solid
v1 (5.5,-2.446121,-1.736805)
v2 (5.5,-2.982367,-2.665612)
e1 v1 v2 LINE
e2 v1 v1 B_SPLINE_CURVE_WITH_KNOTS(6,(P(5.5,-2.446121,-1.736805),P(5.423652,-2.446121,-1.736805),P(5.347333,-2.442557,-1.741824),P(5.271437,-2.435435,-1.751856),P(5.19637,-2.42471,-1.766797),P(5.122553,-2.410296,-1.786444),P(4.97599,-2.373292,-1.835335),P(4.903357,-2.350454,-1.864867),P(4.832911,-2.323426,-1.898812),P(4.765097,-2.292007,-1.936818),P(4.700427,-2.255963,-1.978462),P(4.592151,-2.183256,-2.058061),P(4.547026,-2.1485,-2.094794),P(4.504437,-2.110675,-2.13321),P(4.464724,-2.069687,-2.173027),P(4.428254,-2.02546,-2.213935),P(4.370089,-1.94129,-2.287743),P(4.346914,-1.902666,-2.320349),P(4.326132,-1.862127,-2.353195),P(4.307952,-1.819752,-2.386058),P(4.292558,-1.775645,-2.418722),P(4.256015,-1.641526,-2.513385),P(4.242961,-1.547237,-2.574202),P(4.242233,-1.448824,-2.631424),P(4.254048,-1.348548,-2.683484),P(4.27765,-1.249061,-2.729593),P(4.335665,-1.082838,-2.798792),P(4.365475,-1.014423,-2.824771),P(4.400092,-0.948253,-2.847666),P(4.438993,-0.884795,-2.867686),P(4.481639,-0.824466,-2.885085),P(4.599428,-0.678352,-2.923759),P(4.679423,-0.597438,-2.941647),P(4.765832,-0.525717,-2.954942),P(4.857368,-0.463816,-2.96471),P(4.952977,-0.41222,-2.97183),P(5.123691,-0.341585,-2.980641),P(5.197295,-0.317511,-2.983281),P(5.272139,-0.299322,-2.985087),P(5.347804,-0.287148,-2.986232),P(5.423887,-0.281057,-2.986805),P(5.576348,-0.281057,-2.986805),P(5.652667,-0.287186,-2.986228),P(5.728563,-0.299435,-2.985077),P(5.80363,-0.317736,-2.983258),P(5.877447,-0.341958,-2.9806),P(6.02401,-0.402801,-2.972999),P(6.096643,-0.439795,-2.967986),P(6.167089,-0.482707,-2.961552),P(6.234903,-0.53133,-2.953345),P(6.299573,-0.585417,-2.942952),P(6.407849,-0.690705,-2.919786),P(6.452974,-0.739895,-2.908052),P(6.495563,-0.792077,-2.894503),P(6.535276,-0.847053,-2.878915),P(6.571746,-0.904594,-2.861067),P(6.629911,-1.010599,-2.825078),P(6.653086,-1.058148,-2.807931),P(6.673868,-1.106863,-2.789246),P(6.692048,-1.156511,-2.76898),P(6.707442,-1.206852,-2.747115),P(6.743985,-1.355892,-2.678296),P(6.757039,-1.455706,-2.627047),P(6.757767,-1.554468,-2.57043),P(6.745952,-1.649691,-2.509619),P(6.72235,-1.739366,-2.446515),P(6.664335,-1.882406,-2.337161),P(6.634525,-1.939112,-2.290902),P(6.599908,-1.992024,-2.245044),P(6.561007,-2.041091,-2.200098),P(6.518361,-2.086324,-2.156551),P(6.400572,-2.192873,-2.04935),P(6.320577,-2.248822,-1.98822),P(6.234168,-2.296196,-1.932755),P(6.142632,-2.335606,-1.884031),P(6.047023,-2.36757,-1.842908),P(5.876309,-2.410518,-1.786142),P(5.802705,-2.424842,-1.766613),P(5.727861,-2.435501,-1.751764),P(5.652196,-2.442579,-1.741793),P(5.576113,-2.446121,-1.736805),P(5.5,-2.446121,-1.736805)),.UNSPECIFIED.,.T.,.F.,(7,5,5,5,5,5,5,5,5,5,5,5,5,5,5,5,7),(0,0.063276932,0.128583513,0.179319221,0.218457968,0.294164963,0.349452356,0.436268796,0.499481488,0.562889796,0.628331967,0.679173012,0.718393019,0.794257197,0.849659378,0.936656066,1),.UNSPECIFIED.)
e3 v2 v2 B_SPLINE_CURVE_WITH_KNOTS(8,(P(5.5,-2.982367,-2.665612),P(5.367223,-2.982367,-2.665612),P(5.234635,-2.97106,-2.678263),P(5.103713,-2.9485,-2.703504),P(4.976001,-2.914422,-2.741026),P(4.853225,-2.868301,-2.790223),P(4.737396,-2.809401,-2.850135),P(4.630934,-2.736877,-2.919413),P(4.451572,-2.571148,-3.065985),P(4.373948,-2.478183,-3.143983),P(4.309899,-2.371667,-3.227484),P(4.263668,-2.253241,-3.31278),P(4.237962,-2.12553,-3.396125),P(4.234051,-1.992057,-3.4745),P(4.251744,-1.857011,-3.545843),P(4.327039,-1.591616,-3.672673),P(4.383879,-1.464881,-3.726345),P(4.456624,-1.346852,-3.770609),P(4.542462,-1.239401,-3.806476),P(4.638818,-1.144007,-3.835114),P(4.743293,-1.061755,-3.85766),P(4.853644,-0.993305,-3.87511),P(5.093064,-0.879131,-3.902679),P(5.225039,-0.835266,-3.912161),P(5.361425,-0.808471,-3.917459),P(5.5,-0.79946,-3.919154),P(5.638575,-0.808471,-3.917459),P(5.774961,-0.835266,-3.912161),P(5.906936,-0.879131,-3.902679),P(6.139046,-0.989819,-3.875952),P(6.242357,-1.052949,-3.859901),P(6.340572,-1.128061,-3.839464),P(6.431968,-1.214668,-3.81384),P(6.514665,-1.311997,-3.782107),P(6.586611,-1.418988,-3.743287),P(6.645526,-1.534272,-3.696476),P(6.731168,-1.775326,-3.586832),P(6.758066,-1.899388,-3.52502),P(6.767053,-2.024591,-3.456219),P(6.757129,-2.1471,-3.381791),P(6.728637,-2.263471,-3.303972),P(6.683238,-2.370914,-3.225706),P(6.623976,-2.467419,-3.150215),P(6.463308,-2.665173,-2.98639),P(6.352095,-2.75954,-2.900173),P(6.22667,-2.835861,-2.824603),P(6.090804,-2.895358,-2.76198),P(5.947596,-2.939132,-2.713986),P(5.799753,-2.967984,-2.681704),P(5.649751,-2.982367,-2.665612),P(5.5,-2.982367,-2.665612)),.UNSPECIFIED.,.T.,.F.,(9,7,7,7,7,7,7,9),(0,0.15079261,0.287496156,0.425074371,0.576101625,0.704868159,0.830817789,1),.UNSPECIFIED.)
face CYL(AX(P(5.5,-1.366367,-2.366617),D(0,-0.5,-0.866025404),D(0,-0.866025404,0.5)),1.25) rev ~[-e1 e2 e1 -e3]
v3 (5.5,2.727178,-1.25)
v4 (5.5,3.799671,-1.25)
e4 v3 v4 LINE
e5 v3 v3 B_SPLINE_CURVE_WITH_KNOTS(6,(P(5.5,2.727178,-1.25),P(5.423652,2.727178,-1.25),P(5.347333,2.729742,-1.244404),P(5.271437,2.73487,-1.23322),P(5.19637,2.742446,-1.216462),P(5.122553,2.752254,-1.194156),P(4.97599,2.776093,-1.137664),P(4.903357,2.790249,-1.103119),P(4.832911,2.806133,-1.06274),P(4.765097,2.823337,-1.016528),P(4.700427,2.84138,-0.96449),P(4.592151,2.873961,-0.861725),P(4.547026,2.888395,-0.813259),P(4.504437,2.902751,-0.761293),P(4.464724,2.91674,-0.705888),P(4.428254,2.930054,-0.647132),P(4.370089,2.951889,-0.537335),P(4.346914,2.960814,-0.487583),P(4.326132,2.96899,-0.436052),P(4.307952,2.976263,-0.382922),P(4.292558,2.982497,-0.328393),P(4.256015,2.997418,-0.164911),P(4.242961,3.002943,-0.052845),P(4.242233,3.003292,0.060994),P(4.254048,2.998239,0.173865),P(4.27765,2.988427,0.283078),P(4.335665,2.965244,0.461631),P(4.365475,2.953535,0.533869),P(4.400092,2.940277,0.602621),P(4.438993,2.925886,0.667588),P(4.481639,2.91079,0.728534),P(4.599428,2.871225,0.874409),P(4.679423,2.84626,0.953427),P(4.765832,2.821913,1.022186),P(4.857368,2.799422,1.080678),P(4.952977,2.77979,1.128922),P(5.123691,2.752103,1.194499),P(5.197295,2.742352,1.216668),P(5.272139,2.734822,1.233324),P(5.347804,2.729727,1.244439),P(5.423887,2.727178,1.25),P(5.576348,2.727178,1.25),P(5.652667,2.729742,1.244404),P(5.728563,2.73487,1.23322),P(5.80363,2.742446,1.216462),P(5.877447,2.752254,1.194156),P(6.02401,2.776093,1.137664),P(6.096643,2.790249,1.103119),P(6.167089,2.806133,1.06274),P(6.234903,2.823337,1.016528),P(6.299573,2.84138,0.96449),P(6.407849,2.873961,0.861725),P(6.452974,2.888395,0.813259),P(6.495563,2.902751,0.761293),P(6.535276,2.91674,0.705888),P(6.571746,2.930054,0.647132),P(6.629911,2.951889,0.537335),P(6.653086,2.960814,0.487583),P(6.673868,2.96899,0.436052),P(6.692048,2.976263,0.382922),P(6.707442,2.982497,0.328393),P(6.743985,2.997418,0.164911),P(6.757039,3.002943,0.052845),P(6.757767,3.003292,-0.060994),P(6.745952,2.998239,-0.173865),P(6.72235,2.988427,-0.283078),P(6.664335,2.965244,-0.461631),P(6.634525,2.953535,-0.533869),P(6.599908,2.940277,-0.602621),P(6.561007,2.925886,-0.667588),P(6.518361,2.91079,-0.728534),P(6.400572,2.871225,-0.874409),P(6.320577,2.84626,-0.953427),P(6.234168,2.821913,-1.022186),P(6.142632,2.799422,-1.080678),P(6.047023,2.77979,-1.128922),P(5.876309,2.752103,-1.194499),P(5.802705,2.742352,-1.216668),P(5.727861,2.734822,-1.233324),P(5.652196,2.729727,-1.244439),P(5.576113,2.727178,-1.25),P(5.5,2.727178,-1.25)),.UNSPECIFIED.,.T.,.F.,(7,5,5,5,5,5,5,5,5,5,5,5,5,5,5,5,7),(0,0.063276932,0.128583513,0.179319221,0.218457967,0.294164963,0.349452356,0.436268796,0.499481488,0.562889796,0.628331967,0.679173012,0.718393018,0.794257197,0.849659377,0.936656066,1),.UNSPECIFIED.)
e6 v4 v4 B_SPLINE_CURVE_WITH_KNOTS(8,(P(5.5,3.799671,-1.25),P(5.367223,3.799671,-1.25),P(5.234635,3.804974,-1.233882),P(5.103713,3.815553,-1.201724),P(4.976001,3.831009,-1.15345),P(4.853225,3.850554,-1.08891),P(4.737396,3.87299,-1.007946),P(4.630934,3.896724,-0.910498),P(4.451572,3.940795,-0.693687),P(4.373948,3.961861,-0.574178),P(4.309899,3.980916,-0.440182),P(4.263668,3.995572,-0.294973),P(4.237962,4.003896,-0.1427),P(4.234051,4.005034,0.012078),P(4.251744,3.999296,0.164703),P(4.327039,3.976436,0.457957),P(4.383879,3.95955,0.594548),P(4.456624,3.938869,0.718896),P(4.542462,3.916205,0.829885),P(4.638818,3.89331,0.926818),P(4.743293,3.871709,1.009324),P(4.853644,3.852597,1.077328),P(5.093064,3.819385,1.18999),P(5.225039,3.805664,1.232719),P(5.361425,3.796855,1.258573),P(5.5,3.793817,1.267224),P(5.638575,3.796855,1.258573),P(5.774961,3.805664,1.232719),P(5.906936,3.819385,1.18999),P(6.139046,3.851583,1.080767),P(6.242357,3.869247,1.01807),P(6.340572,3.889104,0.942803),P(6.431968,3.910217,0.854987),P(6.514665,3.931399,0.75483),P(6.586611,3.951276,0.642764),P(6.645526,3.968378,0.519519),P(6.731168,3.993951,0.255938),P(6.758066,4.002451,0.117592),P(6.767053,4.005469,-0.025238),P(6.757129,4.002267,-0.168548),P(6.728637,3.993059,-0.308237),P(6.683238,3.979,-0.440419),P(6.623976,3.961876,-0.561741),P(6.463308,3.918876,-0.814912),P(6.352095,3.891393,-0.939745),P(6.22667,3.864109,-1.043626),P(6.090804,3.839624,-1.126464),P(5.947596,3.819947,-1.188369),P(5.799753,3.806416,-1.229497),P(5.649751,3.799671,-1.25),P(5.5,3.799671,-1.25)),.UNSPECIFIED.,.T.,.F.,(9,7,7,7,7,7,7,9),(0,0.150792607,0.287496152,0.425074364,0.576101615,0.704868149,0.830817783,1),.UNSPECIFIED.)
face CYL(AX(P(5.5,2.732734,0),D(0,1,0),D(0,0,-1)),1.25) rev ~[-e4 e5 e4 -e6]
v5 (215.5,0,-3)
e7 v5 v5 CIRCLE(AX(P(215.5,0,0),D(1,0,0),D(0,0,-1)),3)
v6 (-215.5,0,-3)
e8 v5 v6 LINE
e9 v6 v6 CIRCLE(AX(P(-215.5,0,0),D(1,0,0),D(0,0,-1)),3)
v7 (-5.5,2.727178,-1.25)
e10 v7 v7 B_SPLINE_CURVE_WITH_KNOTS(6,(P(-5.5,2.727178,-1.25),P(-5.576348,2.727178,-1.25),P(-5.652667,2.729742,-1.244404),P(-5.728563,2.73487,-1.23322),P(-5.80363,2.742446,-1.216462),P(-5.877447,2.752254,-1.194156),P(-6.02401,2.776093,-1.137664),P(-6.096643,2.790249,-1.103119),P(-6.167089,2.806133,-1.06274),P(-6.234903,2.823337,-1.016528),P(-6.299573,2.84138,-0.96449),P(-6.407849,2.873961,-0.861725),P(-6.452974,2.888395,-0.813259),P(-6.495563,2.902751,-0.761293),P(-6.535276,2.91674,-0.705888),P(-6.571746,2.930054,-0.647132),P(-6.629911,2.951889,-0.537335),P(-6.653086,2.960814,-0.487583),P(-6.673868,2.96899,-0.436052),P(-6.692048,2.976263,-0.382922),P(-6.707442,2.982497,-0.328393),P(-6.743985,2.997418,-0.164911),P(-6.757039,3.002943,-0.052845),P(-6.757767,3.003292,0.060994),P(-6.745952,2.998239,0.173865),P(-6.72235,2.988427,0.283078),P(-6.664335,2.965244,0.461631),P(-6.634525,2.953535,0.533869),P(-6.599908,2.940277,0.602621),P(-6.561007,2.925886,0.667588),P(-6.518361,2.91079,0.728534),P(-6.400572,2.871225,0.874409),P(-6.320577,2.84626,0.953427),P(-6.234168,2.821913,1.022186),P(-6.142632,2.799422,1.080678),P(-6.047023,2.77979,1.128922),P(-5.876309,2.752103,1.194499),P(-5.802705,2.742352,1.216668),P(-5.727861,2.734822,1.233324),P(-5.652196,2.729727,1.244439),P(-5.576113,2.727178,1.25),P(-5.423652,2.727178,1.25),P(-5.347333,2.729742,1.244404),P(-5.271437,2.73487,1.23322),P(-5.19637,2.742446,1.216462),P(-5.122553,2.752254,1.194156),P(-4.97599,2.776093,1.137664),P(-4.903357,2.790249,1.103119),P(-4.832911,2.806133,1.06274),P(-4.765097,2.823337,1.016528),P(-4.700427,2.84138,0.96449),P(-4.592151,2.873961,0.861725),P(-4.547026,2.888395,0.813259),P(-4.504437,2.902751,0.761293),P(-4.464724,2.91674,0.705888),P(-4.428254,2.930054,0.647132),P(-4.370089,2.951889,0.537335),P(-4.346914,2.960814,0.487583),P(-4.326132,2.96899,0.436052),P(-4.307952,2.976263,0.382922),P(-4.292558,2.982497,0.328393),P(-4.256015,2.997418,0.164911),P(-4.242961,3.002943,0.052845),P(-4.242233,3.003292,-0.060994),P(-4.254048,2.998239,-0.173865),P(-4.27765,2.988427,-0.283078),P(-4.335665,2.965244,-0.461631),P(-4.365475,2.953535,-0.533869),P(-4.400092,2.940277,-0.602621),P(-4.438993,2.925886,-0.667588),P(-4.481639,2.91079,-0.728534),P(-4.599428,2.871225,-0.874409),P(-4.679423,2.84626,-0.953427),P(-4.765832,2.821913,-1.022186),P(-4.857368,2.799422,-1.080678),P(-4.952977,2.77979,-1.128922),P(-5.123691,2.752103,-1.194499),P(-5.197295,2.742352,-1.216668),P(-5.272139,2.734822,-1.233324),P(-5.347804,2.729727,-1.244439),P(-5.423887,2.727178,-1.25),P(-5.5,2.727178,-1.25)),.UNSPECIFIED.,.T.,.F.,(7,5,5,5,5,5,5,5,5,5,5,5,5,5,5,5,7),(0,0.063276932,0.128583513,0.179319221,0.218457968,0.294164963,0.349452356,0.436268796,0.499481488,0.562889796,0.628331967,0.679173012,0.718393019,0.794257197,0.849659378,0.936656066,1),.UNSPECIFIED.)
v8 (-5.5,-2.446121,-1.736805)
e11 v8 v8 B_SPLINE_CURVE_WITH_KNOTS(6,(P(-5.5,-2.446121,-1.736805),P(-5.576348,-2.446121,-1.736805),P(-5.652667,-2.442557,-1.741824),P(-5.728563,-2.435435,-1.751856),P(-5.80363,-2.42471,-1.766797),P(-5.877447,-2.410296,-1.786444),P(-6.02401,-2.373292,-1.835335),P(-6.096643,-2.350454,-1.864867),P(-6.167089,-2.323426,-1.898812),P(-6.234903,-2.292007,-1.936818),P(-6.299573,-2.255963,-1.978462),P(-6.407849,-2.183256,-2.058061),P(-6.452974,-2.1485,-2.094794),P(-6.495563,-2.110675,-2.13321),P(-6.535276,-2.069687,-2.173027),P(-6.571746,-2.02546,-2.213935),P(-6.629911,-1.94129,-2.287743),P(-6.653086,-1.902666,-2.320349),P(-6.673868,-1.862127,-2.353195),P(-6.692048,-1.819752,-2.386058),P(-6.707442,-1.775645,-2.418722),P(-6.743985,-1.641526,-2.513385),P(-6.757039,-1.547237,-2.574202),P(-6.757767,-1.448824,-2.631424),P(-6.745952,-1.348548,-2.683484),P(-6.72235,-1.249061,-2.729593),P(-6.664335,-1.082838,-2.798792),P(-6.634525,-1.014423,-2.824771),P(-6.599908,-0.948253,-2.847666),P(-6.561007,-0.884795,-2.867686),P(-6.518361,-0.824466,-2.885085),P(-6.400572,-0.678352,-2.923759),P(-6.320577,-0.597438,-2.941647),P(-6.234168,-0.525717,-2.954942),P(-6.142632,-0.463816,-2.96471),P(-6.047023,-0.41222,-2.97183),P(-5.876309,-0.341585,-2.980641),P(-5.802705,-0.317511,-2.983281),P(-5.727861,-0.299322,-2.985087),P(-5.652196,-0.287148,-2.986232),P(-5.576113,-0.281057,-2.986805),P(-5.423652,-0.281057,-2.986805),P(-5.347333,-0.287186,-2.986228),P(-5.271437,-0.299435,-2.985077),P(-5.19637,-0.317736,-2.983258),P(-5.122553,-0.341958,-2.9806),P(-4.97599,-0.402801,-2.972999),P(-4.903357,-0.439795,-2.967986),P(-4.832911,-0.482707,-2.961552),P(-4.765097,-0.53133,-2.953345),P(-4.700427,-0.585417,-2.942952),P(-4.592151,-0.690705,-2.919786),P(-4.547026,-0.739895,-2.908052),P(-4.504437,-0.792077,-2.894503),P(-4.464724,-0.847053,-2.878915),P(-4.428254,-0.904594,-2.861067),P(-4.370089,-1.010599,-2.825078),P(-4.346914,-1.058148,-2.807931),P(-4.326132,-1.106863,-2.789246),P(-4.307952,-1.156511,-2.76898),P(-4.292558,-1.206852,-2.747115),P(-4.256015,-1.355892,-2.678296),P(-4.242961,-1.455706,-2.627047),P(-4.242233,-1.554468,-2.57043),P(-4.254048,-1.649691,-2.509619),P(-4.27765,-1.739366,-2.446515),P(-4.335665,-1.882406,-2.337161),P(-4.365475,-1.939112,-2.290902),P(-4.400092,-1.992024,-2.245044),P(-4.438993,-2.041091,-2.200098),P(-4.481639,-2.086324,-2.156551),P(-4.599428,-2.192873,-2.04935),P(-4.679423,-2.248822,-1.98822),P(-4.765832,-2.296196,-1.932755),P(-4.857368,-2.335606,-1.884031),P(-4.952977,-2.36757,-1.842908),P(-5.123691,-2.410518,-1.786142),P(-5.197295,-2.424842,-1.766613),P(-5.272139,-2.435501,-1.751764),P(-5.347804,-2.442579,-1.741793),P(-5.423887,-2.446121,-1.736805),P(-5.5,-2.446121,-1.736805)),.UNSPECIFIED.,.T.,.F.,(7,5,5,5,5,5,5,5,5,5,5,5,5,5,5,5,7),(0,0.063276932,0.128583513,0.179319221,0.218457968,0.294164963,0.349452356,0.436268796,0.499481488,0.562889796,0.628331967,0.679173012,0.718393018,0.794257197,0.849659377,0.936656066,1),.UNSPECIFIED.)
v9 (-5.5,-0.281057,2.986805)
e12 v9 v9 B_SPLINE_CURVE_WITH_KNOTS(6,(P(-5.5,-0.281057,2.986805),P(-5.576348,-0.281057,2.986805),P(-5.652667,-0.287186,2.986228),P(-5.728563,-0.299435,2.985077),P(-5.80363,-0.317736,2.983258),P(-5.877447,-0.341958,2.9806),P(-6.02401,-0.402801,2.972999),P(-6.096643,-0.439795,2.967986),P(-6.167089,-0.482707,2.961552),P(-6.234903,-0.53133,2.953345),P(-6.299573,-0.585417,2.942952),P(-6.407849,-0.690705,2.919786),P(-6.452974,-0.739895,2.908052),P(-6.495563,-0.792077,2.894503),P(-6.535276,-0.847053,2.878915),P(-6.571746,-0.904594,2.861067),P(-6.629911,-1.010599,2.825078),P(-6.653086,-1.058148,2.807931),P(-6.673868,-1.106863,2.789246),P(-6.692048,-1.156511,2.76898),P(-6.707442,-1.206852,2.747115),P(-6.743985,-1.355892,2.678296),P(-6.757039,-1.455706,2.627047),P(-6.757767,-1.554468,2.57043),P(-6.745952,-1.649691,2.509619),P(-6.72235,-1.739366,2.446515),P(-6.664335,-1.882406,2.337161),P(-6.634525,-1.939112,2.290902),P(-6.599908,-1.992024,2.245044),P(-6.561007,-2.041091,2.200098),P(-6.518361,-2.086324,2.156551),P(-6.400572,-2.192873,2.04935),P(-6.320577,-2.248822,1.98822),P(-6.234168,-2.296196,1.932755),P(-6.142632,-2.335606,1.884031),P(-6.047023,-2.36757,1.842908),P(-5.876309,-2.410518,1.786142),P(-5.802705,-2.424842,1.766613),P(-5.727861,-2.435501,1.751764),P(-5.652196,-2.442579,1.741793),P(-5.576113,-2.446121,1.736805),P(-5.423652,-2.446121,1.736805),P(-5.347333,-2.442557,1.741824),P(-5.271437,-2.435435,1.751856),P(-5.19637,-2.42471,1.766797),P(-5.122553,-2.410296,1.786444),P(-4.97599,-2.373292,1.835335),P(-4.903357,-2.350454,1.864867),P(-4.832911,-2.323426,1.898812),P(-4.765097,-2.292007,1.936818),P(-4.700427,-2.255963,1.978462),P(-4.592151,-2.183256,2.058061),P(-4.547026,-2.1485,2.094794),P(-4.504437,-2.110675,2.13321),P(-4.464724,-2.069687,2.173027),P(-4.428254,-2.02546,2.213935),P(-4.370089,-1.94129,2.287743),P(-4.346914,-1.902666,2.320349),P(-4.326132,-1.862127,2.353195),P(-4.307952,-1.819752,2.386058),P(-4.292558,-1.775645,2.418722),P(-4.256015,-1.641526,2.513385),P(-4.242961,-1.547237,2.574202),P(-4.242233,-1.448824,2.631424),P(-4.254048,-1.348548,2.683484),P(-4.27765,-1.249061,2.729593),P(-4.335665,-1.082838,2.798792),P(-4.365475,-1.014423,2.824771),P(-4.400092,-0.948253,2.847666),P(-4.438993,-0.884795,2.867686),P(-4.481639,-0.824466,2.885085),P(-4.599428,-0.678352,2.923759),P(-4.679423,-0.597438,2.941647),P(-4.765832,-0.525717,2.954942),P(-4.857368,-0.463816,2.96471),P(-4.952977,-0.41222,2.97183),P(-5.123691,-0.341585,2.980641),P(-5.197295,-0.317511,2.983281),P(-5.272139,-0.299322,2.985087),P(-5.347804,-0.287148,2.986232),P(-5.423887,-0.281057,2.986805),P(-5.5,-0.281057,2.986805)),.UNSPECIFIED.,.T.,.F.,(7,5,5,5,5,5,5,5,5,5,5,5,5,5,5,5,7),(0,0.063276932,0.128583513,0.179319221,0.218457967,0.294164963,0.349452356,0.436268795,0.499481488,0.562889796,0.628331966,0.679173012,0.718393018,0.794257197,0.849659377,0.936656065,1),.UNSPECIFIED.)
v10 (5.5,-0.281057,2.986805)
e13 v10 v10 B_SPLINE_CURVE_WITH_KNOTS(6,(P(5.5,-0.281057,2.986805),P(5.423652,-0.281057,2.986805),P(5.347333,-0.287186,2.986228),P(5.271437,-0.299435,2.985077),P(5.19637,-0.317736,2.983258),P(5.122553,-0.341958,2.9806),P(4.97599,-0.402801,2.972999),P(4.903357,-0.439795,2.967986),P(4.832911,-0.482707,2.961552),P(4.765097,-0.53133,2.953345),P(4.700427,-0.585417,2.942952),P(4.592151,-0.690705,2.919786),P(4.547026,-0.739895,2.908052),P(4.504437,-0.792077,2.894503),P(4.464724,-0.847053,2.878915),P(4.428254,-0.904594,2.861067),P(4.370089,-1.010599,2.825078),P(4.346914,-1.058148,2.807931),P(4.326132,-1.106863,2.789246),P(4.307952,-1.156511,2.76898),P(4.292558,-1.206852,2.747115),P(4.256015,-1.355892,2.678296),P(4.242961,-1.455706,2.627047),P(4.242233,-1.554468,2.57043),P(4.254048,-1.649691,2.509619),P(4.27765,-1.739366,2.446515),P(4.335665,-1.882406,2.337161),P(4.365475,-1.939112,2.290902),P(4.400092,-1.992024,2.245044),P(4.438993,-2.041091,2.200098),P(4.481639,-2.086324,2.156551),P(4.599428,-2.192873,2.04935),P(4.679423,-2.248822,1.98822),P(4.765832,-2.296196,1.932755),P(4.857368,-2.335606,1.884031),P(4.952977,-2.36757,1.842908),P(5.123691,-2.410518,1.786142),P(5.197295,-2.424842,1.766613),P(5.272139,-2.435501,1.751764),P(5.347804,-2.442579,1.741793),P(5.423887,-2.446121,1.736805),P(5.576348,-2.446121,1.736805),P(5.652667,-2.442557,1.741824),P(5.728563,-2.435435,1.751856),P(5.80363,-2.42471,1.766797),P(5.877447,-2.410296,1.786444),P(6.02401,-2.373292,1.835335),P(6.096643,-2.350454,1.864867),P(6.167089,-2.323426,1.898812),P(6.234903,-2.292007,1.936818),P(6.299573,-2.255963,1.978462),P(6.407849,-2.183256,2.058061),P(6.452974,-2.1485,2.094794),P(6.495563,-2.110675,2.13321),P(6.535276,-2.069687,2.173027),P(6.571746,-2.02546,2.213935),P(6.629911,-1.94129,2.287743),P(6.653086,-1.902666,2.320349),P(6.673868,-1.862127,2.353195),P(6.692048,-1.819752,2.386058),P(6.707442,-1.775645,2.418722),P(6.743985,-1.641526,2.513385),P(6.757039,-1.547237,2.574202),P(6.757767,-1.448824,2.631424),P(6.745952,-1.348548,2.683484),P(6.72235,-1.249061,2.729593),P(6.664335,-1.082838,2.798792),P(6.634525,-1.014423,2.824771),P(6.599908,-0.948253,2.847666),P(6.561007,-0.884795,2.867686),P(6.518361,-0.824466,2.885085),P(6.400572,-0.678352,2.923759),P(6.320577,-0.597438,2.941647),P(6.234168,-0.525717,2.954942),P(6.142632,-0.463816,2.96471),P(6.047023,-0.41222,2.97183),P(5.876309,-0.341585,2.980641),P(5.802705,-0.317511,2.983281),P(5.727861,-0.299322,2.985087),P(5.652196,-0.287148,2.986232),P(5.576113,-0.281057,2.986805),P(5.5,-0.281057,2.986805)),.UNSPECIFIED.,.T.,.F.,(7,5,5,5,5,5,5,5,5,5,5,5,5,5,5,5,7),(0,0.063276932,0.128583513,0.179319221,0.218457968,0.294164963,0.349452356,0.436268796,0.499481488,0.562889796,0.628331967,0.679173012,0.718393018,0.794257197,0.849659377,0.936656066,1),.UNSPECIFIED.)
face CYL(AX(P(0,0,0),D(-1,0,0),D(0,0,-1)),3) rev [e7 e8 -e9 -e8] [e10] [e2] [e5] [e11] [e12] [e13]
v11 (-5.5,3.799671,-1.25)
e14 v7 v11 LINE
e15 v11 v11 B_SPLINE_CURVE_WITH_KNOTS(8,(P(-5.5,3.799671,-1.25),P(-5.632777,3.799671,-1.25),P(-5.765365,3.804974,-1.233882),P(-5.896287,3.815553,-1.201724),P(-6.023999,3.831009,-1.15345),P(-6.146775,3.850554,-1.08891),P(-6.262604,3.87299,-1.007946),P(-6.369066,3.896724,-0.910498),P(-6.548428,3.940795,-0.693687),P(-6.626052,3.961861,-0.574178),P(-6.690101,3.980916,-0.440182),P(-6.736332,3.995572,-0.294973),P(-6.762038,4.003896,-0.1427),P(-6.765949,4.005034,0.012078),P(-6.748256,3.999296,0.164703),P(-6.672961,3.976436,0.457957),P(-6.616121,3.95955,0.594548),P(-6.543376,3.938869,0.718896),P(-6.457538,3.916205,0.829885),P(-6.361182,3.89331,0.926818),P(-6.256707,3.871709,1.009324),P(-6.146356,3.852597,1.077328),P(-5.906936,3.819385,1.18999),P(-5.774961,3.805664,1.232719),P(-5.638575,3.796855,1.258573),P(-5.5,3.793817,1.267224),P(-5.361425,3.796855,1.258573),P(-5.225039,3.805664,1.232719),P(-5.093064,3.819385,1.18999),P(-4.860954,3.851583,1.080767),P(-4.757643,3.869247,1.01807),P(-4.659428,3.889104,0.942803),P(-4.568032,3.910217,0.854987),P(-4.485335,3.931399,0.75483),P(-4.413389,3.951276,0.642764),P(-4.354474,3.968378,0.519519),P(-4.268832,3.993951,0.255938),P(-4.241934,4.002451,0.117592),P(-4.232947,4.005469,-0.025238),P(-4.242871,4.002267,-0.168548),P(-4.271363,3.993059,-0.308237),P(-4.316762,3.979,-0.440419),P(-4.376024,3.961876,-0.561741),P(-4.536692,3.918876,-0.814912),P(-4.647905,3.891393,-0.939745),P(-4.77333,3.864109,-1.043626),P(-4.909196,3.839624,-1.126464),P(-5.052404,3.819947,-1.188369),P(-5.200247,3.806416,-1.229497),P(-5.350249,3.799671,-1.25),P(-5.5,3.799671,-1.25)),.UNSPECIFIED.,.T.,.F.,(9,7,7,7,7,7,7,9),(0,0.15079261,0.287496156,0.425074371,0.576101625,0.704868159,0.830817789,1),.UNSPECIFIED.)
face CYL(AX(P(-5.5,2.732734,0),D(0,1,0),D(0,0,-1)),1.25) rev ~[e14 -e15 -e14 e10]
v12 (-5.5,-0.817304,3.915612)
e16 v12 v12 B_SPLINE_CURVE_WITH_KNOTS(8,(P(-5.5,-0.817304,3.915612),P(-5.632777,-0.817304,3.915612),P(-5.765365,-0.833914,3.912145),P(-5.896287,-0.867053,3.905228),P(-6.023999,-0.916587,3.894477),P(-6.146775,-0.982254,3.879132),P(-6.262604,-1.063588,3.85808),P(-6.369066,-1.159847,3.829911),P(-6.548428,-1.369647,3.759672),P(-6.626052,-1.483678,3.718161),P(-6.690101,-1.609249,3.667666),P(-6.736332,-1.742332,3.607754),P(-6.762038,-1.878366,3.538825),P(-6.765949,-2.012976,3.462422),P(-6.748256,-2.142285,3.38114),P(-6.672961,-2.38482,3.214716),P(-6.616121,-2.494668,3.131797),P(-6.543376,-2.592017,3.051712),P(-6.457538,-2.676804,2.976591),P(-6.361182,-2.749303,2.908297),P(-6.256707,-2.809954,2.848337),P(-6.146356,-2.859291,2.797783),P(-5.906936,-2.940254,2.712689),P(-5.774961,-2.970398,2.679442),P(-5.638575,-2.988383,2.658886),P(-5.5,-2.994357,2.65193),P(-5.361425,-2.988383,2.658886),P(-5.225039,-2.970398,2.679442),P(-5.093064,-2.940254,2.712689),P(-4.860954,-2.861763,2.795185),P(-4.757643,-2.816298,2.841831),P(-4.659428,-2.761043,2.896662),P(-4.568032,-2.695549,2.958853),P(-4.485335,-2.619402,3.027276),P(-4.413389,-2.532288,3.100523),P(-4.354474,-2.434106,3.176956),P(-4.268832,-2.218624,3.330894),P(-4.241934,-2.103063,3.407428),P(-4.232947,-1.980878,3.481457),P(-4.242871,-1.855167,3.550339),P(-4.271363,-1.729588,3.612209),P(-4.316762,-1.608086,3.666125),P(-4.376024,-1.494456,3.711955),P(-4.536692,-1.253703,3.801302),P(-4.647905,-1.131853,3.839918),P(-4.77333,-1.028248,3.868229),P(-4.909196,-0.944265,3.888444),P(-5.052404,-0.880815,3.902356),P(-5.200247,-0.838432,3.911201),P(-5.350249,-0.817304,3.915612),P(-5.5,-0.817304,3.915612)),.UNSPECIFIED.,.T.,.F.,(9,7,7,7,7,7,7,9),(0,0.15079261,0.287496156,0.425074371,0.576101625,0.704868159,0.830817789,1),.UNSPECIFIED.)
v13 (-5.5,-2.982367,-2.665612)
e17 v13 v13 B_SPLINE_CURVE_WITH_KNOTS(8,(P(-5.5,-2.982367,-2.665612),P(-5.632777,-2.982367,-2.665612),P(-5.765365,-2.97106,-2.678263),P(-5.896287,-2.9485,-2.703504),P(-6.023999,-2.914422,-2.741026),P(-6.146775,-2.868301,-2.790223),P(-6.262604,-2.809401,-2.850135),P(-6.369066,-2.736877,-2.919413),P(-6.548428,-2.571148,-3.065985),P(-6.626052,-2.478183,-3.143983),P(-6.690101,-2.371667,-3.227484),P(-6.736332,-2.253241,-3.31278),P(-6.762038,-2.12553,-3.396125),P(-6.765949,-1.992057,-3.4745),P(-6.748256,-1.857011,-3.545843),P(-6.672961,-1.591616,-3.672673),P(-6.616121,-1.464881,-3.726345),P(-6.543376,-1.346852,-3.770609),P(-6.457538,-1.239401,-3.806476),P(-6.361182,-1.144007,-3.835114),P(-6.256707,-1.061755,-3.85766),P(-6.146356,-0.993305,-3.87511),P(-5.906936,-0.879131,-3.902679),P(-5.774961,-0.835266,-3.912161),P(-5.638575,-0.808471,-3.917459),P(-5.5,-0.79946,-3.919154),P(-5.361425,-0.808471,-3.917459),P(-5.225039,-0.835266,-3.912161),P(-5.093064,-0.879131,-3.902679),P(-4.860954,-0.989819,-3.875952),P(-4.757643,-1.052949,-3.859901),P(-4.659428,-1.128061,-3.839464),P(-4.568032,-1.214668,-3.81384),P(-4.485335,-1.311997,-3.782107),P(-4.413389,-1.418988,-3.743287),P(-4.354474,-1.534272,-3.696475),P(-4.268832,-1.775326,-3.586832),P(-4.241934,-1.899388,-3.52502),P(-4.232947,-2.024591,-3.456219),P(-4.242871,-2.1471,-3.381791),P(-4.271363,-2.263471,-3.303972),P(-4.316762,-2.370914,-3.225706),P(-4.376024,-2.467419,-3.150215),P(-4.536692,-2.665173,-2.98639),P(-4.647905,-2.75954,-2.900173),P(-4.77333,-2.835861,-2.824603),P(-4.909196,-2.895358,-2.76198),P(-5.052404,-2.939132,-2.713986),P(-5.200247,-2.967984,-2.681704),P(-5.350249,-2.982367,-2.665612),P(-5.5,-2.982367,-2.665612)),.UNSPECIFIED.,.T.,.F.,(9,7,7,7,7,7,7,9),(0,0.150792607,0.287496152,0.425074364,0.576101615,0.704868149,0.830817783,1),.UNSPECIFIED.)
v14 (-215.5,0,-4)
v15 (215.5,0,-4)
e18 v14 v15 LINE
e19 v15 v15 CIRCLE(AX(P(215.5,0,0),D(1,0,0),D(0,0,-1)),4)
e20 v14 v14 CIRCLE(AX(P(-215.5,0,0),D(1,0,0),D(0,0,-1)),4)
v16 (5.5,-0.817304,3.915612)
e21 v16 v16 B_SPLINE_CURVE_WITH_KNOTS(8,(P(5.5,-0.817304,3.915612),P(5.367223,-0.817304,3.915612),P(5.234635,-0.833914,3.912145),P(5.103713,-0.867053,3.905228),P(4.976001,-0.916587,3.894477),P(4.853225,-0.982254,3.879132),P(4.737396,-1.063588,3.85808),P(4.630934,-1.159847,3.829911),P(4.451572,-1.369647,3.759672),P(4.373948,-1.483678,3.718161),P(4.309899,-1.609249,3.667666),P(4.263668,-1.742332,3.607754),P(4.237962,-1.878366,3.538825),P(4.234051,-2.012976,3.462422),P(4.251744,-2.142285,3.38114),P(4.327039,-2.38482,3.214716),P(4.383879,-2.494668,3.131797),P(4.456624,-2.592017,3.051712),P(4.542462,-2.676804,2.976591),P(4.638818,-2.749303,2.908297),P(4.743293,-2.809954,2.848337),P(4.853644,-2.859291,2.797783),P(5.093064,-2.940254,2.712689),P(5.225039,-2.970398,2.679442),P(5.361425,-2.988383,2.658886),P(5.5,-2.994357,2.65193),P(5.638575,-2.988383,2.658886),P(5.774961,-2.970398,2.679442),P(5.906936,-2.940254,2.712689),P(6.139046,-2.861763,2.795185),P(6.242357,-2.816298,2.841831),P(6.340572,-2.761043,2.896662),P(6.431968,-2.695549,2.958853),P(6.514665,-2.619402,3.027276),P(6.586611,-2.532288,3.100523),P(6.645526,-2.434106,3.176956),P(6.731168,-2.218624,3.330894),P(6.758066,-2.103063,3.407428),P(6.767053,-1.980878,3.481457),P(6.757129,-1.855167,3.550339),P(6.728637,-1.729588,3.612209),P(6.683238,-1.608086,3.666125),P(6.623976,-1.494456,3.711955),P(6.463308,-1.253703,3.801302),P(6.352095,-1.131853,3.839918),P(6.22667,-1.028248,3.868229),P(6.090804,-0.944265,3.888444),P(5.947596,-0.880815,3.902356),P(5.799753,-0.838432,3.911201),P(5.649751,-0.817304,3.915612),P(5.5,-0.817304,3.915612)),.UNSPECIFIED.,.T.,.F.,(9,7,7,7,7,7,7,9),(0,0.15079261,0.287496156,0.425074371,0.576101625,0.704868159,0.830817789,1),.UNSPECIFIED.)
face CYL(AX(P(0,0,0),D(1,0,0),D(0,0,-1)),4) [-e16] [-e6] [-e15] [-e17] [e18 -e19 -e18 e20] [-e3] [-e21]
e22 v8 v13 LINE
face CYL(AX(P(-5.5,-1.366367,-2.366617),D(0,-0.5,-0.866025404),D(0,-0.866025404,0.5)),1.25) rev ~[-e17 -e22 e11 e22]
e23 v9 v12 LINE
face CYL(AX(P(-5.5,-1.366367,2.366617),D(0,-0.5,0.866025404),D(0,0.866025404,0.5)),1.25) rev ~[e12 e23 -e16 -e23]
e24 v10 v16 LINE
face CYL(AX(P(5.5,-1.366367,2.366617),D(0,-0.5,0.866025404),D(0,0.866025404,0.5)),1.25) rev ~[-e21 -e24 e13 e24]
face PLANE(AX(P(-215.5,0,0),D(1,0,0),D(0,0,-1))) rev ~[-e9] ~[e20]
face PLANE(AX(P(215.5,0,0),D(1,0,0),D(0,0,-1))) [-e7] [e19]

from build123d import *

# Parameters (mm, degrees)
SKETCH1_R                   = 4
SKETCH1_R_2                 = 3
EXTRUDE_THIN1_DEPTH         = 215.5
SKETCH3_W                   = 1.25
SKETCH3_H                   = 5.465467641
M3_TAPPED_HOLE1_AT_2_COUNT  = 2
M3_TAPPED_HOLE1_AT_2_PITCH  = 11
CIRPATTERN1_COUNT           = 3
CIRPATTERN1_COPY_1_SKETCH_W = 1.25
CIRPATTERN1_COPY_1_SKETCH_H = 5.465467641
CIRPATTERN1_COPY_2_SKETCH_W = 1.25
CIRPATTERN1_COPY_2_SKETCH_H = 5.465467641


with BuildPart() as part:
    # Sketch1 → Extrude-Thin1 (new, symmetric)
    with BuildSketch(Plane(origin=(0, 0, 0), x_dir=(0, 0, -1), z_dir=(1, 0, 0))):
        Circle(SKETCH1_R)
        Circle(SKETCH1_R_2, mode=Mode.SUBTRACT)
    extrude(amount=EXTRUDE_THIN1_DEPTH, both=True)

    # Sketch3 → M3 Tapped Hole1 (revolve, cut)
    with BuildSketch(Plane(origin=(-5.5, 0, 0), x_dir=(0, 0, -1), z_dir=(1, 0, 0))):
        with Locations((0.625, 2.732733821)):
            Rectangle(SKETCH3_W, SKETCH3_H)
    m3_tapped_hole1 = revolve(axis=Axis((-5.5, -6.35, 0), (0, 1, 0)), mode=Mode.SUBTRACT)

    # M3 Tapped Hole1 at 2: M3 Tapped Hole1 ×2
    with Locations(*[(i * M3_TAPPED_HOLE1_AT_2_PITCH, 0, 0) for i in range(1, M3_TAPPED_HOLE1_AT_2_COUNT)]):
        add(m3_tapped_hole1, mode=Mode.SUBTRACT)

    # CirPattern1: M3 Tapped Hole1 ×3 about axis
    cirpattern1_axis = Axis((215.5, 0, 0), (-1, 0, 0))
    for i in range(1, CIRPATTERN1_COUNT):
        add(m3_tapped_hole1.rotate(cirpattern1_axis, i * 360 / CIRPATTERN1_COUNT), mode=Mode.SUBTRACT)

    # CirPattern1 copy 1 sketch → CirPattern1 copy 1 (revolve, cut)
    with BuildSketch(Plane(origin=(5.5, 0, 0), x_dir=(0, -0.8660254037844387, 0.4999999999999998), z_dir=(1, 0, 0))):
        with Locations((0.625, 2.732733821)):
            Rectangle(CIRPATTERN1_COPY_1_SKETCH_W, CIRPATTERN1_COPY_1_SKETCH_H)
    revolve(axis=Axis((5.5, 3.175, 5.499261314), (0, -0.4999999999999998, -0.8660254037844387)), mode=Mode.SUBTRACT)

    # CirPattern1 copy 2 sketch → CirPattern1 copy 2 (revolve, cut)
    with BuildSketch(Plane(origin=(5.5, 0, 0), x_dir=(0, 0.8660254037844384, 0.5000000000000004), z_dir=(1, 0, 0))):
        with Locations((0.625, 2.732733821)):
            Rectangle(CIRPATTERN1_COPY_2_SKETCH_W, CIRPATTERN1_COPY_2_SKETCH_H)
    revolve(axis=Axis((5.5, 3.175, -5.499261314), (0, -0.5000000000000004, 0.8660254037844384)), mode=Mode.SUBTRACT)


solid = part.part
